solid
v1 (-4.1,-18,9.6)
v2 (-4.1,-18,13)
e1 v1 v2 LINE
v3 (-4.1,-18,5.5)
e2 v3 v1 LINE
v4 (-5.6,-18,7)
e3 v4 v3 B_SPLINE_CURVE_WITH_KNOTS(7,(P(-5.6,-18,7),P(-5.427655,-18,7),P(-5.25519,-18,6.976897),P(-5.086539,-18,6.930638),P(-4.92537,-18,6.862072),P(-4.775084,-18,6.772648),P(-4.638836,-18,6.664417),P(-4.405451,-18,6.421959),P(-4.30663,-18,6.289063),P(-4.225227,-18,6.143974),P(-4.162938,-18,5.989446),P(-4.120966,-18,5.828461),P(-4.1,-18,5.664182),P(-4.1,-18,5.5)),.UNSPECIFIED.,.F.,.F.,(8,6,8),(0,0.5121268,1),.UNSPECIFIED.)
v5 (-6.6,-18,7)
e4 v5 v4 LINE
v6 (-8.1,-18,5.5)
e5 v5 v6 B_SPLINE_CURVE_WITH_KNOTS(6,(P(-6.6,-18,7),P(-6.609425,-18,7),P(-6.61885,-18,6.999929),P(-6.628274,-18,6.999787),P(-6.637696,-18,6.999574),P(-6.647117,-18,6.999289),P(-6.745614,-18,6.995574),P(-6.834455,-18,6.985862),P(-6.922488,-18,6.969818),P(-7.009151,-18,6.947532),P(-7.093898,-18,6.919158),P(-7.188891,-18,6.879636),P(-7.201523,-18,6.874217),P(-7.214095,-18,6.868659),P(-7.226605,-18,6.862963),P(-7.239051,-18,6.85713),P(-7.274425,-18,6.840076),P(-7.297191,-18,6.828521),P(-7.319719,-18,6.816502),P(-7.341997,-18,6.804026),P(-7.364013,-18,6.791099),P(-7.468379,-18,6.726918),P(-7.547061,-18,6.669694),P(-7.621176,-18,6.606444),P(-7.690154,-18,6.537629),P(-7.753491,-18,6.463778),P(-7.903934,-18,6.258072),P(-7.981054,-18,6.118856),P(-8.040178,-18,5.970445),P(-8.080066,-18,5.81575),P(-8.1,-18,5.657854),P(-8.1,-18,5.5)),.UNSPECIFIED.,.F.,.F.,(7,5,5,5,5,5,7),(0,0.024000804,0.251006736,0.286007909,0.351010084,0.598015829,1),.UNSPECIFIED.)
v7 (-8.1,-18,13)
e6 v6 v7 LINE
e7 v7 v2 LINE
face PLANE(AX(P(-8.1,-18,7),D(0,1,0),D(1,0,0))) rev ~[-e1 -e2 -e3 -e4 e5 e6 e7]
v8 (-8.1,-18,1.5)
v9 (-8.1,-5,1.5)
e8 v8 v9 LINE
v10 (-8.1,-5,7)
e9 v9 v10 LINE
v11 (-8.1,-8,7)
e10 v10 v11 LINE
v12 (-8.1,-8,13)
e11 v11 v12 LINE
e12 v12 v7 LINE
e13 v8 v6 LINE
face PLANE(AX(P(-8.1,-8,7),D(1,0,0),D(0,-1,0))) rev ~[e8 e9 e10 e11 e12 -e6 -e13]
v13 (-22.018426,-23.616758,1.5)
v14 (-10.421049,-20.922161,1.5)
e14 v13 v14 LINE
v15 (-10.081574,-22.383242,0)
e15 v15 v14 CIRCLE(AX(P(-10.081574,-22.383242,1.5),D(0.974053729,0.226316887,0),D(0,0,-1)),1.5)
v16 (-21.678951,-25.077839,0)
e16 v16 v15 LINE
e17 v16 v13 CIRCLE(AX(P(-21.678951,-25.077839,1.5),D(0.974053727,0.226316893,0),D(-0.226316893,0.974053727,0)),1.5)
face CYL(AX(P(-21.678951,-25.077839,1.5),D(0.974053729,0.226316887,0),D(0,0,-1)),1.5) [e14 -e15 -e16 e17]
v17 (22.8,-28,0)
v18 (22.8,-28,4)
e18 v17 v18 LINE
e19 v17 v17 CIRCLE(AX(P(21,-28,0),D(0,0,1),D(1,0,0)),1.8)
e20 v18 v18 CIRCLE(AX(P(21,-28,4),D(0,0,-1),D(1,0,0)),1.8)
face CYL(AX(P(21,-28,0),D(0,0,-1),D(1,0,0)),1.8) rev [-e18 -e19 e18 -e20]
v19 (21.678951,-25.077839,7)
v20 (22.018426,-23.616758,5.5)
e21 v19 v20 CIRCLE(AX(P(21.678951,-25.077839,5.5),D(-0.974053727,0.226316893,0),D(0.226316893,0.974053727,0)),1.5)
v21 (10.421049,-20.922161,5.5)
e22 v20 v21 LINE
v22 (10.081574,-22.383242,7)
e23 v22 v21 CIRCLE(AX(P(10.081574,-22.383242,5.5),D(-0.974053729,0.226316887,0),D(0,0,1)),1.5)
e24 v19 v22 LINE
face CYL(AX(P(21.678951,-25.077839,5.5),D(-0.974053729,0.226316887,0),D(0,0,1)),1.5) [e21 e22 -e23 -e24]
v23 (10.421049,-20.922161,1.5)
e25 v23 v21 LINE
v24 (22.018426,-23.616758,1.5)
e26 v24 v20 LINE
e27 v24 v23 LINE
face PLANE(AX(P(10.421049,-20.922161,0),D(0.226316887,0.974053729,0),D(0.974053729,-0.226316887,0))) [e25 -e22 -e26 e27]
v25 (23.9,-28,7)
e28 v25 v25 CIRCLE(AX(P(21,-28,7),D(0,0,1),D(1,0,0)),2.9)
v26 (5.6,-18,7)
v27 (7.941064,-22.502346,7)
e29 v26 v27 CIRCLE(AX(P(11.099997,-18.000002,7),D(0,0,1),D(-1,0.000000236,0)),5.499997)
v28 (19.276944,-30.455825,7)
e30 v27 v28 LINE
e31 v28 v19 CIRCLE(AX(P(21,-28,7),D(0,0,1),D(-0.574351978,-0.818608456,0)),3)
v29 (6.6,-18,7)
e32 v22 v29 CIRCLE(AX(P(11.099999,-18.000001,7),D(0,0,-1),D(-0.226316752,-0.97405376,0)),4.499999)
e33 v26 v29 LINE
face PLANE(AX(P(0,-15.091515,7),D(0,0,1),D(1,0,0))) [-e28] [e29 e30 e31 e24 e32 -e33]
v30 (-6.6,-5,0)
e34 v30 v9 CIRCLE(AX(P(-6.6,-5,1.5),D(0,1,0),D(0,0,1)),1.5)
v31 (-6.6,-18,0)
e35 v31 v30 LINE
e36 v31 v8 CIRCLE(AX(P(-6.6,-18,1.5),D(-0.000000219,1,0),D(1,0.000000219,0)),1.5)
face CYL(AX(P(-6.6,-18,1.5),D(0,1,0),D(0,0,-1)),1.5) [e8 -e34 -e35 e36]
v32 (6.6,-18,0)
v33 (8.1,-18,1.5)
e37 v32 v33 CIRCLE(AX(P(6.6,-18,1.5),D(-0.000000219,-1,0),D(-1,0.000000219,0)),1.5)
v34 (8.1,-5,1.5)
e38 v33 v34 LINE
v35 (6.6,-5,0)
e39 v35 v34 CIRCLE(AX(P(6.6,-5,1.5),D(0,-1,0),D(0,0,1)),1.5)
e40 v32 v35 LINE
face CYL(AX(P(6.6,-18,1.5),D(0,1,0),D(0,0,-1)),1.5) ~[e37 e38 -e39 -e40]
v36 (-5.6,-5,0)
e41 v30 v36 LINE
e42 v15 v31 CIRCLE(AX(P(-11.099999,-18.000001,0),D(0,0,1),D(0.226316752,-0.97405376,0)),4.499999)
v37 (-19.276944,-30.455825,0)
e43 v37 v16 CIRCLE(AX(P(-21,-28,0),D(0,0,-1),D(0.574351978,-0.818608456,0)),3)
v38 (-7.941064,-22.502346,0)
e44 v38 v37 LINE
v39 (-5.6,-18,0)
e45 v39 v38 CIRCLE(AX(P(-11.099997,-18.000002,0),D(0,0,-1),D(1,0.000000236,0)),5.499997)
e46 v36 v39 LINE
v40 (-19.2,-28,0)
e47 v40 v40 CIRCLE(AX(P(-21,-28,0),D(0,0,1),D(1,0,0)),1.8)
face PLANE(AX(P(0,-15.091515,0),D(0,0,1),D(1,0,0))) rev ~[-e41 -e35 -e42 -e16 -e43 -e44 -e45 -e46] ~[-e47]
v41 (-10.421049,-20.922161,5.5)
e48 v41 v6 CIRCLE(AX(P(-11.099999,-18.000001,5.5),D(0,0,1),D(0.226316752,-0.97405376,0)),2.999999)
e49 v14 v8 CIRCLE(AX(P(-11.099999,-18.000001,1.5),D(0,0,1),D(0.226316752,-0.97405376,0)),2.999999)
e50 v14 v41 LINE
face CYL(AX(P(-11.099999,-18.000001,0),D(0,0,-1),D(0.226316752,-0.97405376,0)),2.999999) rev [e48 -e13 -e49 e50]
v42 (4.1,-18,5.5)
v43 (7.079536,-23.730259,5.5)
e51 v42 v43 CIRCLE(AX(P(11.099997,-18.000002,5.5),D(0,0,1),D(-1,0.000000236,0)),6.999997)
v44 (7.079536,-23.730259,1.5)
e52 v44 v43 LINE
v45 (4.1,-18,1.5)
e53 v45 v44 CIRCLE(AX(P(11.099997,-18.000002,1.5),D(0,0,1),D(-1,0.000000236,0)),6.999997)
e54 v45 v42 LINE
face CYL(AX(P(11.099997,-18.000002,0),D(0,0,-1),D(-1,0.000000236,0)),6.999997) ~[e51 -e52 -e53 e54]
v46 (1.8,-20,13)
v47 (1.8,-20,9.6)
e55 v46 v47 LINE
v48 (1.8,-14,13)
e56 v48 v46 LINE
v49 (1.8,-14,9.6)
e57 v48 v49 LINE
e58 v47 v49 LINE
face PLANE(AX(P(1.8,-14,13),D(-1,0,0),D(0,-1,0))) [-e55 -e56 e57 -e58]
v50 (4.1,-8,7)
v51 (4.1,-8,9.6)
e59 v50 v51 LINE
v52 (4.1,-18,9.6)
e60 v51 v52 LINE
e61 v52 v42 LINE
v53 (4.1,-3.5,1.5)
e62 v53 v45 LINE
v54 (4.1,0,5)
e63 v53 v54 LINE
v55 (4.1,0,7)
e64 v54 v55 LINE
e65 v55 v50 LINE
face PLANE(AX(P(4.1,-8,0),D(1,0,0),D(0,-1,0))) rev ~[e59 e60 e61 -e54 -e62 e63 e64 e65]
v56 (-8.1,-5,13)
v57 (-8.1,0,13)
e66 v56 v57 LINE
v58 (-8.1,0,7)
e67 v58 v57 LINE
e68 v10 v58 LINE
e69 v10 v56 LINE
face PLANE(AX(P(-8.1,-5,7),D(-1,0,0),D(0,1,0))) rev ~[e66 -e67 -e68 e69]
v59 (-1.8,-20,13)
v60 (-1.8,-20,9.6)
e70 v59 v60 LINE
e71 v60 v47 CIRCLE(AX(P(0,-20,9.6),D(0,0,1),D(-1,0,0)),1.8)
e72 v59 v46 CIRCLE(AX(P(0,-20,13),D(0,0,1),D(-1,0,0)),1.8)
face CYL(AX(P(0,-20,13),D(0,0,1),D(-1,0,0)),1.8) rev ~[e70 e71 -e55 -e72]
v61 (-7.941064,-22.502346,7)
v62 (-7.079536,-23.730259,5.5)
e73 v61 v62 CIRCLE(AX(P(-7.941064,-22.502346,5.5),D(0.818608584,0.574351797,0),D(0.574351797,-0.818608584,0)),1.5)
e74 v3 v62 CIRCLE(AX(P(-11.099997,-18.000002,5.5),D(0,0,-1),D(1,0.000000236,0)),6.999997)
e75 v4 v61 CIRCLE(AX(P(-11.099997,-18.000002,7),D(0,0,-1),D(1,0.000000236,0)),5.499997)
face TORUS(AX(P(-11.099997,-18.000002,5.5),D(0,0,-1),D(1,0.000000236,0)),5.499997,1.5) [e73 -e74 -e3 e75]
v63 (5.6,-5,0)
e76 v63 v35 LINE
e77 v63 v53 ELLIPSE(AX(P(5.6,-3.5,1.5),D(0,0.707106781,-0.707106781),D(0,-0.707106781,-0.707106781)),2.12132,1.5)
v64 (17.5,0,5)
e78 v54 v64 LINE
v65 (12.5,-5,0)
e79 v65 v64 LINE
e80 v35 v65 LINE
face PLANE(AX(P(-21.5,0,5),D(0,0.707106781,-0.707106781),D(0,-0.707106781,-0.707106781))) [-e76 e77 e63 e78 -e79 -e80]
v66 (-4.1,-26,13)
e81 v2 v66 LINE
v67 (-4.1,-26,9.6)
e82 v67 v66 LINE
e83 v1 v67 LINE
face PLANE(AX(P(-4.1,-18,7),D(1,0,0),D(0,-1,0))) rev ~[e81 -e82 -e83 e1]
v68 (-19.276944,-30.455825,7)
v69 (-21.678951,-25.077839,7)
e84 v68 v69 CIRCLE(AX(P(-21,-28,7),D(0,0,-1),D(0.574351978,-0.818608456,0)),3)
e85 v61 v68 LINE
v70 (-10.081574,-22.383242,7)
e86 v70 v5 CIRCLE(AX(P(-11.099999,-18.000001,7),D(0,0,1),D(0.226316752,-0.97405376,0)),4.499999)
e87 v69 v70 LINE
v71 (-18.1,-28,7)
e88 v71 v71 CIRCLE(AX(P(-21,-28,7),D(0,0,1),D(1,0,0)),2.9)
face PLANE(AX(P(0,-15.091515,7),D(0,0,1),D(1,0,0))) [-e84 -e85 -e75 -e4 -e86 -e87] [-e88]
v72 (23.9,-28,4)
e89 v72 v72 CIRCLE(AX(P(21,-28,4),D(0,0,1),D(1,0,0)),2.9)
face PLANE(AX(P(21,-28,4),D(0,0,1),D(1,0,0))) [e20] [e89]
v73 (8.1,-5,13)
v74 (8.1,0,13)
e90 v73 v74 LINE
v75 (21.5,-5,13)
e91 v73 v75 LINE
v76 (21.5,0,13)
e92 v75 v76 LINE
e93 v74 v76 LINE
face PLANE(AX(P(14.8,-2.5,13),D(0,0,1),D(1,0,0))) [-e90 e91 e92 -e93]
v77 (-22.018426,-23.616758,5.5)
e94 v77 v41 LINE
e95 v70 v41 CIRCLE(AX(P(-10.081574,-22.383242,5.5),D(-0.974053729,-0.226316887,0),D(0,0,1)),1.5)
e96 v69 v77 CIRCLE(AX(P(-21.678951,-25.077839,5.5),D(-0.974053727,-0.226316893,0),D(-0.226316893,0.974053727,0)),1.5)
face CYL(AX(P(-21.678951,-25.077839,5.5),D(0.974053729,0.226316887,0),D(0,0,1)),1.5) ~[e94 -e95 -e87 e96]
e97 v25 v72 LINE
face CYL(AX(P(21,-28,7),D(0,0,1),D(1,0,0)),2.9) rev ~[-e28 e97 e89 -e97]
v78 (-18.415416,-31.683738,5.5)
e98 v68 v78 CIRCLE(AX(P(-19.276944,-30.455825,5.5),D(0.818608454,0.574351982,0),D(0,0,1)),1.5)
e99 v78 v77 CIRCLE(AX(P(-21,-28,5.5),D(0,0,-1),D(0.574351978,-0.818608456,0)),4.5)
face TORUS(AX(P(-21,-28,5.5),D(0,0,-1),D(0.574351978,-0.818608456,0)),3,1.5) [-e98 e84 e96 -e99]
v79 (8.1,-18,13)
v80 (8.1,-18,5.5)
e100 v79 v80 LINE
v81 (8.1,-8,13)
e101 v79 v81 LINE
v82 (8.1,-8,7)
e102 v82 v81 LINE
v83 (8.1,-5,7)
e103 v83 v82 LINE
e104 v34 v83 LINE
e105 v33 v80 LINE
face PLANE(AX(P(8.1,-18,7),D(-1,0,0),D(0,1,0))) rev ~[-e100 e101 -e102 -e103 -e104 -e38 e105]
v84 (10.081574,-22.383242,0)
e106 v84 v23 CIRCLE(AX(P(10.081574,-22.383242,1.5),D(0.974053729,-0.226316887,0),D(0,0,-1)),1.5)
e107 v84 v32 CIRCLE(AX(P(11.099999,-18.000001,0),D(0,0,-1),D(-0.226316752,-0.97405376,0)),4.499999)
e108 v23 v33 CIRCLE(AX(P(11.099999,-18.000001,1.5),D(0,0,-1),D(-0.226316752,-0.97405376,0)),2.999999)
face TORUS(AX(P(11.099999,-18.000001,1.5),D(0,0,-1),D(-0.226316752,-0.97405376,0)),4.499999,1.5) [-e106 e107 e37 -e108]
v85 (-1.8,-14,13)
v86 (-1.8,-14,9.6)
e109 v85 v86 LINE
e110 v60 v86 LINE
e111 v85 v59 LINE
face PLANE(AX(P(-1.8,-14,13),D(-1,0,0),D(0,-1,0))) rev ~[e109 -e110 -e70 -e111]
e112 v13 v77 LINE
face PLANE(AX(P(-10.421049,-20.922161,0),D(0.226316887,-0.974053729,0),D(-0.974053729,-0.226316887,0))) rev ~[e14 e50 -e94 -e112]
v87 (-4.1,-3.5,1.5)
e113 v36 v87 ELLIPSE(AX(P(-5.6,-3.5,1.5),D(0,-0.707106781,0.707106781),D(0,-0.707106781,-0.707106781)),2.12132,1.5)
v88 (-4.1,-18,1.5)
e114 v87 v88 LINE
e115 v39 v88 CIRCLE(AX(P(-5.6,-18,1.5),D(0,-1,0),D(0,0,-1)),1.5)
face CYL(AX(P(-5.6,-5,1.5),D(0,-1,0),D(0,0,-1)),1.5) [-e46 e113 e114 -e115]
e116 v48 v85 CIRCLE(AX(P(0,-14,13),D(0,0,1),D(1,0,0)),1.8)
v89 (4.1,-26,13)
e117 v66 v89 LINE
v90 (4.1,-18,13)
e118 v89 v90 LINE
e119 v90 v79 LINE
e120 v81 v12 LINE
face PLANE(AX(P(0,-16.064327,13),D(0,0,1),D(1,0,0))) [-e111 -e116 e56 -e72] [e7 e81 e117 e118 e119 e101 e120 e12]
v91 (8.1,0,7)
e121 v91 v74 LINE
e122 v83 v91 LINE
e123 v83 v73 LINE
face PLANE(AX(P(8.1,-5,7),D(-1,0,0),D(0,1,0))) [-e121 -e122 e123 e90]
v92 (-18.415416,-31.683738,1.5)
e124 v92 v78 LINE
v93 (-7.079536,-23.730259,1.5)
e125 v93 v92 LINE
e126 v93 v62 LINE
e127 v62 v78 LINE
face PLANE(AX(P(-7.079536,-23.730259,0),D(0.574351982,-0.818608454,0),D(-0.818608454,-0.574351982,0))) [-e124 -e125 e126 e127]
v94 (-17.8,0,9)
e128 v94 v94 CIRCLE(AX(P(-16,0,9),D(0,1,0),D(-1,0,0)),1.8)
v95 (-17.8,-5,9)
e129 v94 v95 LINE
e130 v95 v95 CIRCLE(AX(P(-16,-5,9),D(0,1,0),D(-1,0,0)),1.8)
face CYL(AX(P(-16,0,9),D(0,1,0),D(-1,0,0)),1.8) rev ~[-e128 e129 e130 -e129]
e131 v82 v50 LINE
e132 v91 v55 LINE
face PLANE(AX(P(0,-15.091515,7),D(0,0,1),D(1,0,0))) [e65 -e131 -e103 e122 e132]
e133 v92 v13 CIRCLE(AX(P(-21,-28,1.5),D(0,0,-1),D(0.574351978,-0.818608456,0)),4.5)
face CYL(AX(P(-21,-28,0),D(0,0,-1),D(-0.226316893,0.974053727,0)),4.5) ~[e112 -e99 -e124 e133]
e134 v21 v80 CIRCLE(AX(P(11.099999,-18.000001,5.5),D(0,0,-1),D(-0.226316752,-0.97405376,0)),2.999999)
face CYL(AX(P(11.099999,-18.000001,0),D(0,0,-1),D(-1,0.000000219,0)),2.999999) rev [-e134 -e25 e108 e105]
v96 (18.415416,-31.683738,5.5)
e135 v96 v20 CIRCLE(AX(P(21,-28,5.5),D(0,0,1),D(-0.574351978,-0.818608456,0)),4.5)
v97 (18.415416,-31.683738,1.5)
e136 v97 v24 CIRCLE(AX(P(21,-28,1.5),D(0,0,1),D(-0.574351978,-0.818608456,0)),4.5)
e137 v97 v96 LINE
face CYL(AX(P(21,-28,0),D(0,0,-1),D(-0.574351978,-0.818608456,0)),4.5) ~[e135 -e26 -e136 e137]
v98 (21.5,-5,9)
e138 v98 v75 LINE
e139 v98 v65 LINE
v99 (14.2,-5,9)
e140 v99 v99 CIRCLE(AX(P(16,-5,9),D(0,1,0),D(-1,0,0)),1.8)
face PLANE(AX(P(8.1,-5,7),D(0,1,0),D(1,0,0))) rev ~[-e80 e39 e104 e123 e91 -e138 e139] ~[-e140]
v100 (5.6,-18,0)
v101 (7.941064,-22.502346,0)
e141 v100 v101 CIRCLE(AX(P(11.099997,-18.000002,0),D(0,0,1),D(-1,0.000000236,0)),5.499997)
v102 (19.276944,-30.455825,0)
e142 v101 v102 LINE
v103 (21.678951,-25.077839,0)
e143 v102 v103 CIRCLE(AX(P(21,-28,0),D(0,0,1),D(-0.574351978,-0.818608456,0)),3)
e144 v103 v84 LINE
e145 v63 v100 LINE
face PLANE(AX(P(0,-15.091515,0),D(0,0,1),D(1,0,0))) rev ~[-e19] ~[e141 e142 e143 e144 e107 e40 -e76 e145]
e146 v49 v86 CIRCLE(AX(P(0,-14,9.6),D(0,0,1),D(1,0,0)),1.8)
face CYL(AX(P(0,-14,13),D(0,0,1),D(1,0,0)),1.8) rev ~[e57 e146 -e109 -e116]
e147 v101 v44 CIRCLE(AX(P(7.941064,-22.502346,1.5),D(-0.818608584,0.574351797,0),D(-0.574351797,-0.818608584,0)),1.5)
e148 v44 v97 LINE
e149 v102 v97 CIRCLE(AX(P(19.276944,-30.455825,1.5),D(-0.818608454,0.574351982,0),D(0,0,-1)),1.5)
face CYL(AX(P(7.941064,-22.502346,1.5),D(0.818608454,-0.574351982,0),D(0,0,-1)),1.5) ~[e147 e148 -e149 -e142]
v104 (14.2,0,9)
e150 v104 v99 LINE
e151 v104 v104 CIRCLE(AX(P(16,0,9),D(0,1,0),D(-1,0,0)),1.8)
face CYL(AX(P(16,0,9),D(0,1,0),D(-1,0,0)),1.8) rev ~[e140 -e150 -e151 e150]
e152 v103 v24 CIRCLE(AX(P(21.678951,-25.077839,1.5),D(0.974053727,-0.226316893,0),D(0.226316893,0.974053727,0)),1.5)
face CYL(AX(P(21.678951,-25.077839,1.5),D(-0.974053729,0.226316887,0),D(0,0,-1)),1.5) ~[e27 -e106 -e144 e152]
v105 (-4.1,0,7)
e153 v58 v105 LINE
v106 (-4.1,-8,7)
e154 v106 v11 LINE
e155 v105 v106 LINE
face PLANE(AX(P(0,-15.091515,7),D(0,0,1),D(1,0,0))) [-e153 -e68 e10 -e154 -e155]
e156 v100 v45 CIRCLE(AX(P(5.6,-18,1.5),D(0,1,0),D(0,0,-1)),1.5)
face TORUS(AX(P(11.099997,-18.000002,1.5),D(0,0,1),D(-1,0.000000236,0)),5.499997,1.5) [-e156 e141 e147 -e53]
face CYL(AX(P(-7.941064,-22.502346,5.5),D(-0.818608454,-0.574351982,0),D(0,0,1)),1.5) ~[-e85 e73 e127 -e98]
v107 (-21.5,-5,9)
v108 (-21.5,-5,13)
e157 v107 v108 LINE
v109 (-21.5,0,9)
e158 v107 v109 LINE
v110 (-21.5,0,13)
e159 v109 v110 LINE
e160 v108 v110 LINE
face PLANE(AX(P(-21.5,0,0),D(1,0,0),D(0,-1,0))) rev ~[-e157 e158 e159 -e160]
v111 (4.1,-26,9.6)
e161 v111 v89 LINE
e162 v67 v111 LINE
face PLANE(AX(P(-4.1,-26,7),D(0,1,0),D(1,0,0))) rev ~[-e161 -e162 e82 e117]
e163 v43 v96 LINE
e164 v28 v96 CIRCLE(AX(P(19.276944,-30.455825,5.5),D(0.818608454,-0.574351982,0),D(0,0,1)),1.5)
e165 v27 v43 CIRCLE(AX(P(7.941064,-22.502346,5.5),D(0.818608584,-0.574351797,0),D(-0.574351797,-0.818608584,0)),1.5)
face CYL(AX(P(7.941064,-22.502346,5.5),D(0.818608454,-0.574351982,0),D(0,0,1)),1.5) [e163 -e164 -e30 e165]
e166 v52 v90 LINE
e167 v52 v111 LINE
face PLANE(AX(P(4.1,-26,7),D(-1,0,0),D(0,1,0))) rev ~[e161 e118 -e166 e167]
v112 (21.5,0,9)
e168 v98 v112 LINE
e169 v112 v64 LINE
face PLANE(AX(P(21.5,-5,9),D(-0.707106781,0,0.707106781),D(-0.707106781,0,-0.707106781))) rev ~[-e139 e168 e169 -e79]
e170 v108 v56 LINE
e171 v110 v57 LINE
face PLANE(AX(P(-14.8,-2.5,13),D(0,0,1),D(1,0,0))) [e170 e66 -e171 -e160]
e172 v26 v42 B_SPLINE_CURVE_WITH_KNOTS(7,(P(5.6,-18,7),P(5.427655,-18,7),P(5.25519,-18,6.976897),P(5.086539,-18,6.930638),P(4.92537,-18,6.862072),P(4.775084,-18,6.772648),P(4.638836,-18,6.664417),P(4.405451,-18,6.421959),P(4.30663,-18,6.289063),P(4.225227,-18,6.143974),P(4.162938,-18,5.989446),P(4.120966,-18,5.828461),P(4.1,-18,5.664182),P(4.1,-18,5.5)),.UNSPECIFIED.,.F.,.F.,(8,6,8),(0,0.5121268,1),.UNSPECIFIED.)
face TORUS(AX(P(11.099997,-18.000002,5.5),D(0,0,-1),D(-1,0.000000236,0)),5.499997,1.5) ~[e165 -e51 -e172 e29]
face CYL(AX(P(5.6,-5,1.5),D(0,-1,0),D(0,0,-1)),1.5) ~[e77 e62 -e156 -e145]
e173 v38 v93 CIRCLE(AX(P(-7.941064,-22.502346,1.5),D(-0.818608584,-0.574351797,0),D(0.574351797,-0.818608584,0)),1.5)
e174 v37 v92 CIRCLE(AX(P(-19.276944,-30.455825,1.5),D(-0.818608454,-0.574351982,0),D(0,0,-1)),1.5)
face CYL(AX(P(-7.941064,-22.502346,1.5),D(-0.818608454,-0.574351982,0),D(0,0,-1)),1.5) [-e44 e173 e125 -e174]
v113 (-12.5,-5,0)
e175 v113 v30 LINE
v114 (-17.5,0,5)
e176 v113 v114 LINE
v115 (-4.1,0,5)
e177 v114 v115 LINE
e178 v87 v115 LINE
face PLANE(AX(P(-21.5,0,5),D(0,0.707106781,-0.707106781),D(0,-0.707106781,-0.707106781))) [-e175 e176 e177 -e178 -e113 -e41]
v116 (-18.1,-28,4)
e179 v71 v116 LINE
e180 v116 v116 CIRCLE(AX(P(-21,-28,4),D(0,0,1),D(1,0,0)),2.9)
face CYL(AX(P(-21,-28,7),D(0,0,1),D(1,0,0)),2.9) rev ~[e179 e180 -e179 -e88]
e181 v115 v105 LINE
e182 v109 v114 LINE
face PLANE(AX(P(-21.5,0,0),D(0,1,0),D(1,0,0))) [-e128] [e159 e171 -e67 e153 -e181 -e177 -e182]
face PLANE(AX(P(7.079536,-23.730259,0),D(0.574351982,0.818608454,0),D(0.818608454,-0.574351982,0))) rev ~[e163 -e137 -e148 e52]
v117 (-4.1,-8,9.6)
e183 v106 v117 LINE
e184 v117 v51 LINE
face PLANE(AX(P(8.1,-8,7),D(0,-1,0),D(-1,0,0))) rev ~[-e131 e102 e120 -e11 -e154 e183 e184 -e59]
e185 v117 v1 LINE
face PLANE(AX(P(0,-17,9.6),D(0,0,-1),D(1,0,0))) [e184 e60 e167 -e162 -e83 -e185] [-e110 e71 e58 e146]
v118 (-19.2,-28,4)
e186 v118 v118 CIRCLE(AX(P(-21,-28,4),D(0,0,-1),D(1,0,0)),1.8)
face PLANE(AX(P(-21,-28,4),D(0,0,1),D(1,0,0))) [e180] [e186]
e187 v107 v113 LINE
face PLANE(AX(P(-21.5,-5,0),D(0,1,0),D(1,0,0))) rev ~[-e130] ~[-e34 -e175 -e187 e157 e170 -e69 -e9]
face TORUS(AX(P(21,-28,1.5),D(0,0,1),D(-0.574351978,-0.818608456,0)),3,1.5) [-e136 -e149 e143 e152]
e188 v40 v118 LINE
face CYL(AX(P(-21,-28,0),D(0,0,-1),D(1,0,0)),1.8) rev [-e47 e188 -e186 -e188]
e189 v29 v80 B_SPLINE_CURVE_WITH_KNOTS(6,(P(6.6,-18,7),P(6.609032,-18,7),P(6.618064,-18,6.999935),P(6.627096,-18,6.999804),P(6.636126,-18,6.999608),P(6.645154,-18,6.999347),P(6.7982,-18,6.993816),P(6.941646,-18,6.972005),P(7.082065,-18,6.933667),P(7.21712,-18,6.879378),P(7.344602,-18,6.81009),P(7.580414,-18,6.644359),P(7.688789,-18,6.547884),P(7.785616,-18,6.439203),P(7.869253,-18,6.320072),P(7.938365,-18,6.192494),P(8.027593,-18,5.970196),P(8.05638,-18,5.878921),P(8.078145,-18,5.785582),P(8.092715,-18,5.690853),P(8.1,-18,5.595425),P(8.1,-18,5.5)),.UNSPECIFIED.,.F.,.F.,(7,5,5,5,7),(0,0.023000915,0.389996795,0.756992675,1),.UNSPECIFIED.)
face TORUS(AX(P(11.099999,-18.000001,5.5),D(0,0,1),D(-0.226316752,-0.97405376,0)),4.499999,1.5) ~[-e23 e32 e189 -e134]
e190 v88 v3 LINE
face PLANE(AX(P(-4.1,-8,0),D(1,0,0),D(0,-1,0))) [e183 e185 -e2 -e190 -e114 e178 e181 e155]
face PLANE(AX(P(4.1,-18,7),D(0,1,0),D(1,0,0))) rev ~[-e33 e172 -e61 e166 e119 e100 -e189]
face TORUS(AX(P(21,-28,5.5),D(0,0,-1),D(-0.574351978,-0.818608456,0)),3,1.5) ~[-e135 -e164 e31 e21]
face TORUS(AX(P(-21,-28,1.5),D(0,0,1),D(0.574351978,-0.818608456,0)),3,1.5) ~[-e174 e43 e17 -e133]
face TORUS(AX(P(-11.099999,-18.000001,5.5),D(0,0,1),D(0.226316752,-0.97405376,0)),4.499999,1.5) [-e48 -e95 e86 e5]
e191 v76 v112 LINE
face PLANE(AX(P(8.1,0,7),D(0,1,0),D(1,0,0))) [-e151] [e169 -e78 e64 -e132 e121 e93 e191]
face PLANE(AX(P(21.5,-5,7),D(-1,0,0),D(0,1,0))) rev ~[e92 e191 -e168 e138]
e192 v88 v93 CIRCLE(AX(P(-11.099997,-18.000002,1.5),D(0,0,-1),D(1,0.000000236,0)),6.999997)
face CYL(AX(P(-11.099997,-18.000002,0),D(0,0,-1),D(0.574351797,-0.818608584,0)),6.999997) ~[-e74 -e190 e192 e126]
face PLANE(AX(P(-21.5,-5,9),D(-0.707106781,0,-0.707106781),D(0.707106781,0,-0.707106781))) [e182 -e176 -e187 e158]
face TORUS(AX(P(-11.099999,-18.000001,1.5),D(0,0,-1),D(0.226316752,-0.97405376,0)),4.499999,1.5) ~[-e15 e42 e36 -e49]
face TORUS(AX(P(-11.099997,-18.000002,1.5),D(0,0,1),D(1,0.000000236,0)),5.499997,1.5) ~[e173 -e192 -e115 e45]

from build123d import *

# Parameters (mm, degrees)
SKETCH_R        = 1.8
PAD_DEPTH       = 7
SKETCH001_R     = 2.9
POCKET_DEPTH    = 3
SKETCH002_W     = 13.4
SKETCH002_H     = 5
PAD001_DEPTH    = 6
SKETCH005_R     = 1.8
POCKET002_DEPTH = 5
PAD002_DEPTH    = 6
SKETCH009_W     = 8.2
SKETCH009_H     = 18
POCKET006_DEPTH = 9.6
POCKET003_DEPTH = 47.001
POCKET004_DEPTH = 5
POCKET005_DEPTH = 13.001
FILLET_R        = 1.5


with BuildPart() as part:
    # Sketch → Pad (new body)
    with BuildSketch(Plane.XY):
        with BuildLine():
            Line((-21.5, 0), (-21.5, -5))
            Line((-21.5, -5), (-8.1, -5))
            Line((-8.1, -5), (-8.1, -18))
            ThreePointArc((-10.421049, -20.922161), (-8.750867, -19.865898), (-8.1, -18))
            Line((-10.421049, -20.922161), (-22.018426, -23.616758))
            ThreePointArc((-22.018426, -23.616758), (-25.108802, -29.835142), (-18.415416, -31.683738))
            Line((-7.079536, -23.730259), (-18.415416, -31.683738))
            ThreePointArc((-7.079536, -23.730259), (-4.889394, -21.2293), (-4.1, -18))
            Line((-4.1, -18), (-4.1, -26))
            Line((-4.1, -26), (4.1, -26))
            Line((4.1, -18), (4.1, -26))
            ThreePointArc((4.1, -18), (4.889394, -21.2293), (7.079536, -23.730259))
            Line((7.079536, -23.730259), (18.415416, -31.683738))
            ThreePointArc((18.415416, -31.683738), (25.108802, -29.835142), (22.018426, -23.616758))
            Line((10.421049, -20.922161), (22.018426, -23.616758))
            ThreePointArc((8.1, -18), (8.750867, -19.865898), (10.421049, -20.922161))
            Line((8.1, -5), (8.1, -18))
            Line((21.5, -5), (8.1, -5))
            Line((21.5, -5), (21.5, 0))
            Line((21.5, 0), (4.1, 0))
            Line((4.1, 0), (4.1, -8))
            Line((-4.1, -8), (4.1, -8))
            Line((-4.1, 0), (-4.1, -8))
            Line((-21.5, 0), (-4.1, 0))
        make_face()
        with Locations((-21, -28)):
            Circle(SKETCH_R, mode=Mode.SUBTRACT)
        with Locations((21, -28)):
            Circle(SKETCH_R, mode=Mode.SUBTRACT)
    extrude(amount=PAD_DEPTH)

    # Sketch001 (on Face28 of Pad) → Pocket (cut)
    with BuildSketch(Plane.XY.offset(7)):
        with Locations((-21, -28)):
            Circle(SKETCH001_R)
        with Locations((21, -28)):
            Circle(SKETCH001_R)
    extrude(amount=-POCKET_DEPTH, mode=Mode.SUBTRACT)

    # Sketch002 (on Face5 of Pocket) → Pad001 (join)
    with BuildSketch(Plane.XY.offset(7)):
        with Locations((14.8, -2.5)):
            Rectangle(SKETCH002_W, SKETCH002_H)
        with Locations((-14.8, -2.5)):
            Rectangle(SKETCH002_W, SKETCH002_H)
    extrude(amount=PAD001_DEPTH)

    # Sketch005 (on Face32 of Pad001) → Pocket002 (cut)
    with BuildSketch(Plane(origin=(0, 0, 0), x_dir=(-1, 0, 0), z_dir=(0, 1, 0))):
        with Locations((-16, 9)):
            Circle(SKETCH005_R)
        with Locations((16, 9)):
            Circle(SKETCH005_R)
    extrude(amount=-POCKET002_DEPTH, mode=Mode.SUBTRACT)

    # Sketch003 (on Face3 of Pad001) → Pad002 (join)
    with BuildSketch(Plane.XY.offset(7)):
        Polygon((-8.1, -8), (-8.1, -18), (-4.1, -18), (-4.1, -26), (4.1, -26), (4.1, -18), (8.1, -18), (8.1, -8), align=None)
    extrude(amount=PAD002_DEPTH)

    # Sketch009 (on Face1 of Pad002) → Pocket006 (cut)
    with BuildSketch(Plane(origin=(0, 0, 0), x_dir=(1, 0, 0), z_dir=(0, 0, -1))):
        with Locations((0, 17)):
            Rectangle(SKETCH009_W, SKETCH009_H)
    extrude(amount=-POCKET006_DEPTH, mode=Mode.SUBTRACT)

    # Sketch006 → Pocket003 (cut, through all)
    with BuildSketch(Plane(origin=(-21.5, 0, 0), x_dir=(0, -1, 0), z_dir=(-1, 0, 0))):
        Polygon((5, 0), (0, 0), (0, 5), align=None)
    extrude(amount=-POCKET003_DEPTH, mode=Mode.SUBTRACT)

    # Sketch007 (on Face37 of Pocket003) → Pocket004 (cut)
    with BuildSketch(Plane.XZ.offset(5)):
        Polygon((-21.5, 0), (-21.5, 9), (-12.5, 0), align=None)
        Polygon((21.5, 0), (21.5, 9), (12.5, 0), align=None)
    extrude(amount=-POCKET004_DEPTH, mode=Mode.SUBTRACT)

    # Sketch008 (on Face18 of Pocket004) → Pocket005 (cut, through all)
    with BuildSketch(Plane.XY.offset(13)):
        with BuildLine():
            ThreePointArc((1.8, -14), (0, -12.2), (-1.8, -14))
            Line((-1.8, -14), (-1.8, -20))
            ThreePointArc((-1.8, -20), (0, -21.8), (1.8, -20))
            Line((1.8, -14), (1.8, -20))
        make_face()
    extrude(amount=-POCKET005_DEPTH, mode=Mode.SUBTRACT)

    # Fillet
    fillet_edges = [part.edges().sort_by_distance(p)[0] for p in [
        (12.747476, -27.706999, 0),
        (-12.747476, -27.706999, 0),
        (-12.747476, -27.706999, 7),
        (12.747476, -27.706999, 7),
    ]]
    fillet(fillet_edges, radius=FILLET_R)


solid = part.part
